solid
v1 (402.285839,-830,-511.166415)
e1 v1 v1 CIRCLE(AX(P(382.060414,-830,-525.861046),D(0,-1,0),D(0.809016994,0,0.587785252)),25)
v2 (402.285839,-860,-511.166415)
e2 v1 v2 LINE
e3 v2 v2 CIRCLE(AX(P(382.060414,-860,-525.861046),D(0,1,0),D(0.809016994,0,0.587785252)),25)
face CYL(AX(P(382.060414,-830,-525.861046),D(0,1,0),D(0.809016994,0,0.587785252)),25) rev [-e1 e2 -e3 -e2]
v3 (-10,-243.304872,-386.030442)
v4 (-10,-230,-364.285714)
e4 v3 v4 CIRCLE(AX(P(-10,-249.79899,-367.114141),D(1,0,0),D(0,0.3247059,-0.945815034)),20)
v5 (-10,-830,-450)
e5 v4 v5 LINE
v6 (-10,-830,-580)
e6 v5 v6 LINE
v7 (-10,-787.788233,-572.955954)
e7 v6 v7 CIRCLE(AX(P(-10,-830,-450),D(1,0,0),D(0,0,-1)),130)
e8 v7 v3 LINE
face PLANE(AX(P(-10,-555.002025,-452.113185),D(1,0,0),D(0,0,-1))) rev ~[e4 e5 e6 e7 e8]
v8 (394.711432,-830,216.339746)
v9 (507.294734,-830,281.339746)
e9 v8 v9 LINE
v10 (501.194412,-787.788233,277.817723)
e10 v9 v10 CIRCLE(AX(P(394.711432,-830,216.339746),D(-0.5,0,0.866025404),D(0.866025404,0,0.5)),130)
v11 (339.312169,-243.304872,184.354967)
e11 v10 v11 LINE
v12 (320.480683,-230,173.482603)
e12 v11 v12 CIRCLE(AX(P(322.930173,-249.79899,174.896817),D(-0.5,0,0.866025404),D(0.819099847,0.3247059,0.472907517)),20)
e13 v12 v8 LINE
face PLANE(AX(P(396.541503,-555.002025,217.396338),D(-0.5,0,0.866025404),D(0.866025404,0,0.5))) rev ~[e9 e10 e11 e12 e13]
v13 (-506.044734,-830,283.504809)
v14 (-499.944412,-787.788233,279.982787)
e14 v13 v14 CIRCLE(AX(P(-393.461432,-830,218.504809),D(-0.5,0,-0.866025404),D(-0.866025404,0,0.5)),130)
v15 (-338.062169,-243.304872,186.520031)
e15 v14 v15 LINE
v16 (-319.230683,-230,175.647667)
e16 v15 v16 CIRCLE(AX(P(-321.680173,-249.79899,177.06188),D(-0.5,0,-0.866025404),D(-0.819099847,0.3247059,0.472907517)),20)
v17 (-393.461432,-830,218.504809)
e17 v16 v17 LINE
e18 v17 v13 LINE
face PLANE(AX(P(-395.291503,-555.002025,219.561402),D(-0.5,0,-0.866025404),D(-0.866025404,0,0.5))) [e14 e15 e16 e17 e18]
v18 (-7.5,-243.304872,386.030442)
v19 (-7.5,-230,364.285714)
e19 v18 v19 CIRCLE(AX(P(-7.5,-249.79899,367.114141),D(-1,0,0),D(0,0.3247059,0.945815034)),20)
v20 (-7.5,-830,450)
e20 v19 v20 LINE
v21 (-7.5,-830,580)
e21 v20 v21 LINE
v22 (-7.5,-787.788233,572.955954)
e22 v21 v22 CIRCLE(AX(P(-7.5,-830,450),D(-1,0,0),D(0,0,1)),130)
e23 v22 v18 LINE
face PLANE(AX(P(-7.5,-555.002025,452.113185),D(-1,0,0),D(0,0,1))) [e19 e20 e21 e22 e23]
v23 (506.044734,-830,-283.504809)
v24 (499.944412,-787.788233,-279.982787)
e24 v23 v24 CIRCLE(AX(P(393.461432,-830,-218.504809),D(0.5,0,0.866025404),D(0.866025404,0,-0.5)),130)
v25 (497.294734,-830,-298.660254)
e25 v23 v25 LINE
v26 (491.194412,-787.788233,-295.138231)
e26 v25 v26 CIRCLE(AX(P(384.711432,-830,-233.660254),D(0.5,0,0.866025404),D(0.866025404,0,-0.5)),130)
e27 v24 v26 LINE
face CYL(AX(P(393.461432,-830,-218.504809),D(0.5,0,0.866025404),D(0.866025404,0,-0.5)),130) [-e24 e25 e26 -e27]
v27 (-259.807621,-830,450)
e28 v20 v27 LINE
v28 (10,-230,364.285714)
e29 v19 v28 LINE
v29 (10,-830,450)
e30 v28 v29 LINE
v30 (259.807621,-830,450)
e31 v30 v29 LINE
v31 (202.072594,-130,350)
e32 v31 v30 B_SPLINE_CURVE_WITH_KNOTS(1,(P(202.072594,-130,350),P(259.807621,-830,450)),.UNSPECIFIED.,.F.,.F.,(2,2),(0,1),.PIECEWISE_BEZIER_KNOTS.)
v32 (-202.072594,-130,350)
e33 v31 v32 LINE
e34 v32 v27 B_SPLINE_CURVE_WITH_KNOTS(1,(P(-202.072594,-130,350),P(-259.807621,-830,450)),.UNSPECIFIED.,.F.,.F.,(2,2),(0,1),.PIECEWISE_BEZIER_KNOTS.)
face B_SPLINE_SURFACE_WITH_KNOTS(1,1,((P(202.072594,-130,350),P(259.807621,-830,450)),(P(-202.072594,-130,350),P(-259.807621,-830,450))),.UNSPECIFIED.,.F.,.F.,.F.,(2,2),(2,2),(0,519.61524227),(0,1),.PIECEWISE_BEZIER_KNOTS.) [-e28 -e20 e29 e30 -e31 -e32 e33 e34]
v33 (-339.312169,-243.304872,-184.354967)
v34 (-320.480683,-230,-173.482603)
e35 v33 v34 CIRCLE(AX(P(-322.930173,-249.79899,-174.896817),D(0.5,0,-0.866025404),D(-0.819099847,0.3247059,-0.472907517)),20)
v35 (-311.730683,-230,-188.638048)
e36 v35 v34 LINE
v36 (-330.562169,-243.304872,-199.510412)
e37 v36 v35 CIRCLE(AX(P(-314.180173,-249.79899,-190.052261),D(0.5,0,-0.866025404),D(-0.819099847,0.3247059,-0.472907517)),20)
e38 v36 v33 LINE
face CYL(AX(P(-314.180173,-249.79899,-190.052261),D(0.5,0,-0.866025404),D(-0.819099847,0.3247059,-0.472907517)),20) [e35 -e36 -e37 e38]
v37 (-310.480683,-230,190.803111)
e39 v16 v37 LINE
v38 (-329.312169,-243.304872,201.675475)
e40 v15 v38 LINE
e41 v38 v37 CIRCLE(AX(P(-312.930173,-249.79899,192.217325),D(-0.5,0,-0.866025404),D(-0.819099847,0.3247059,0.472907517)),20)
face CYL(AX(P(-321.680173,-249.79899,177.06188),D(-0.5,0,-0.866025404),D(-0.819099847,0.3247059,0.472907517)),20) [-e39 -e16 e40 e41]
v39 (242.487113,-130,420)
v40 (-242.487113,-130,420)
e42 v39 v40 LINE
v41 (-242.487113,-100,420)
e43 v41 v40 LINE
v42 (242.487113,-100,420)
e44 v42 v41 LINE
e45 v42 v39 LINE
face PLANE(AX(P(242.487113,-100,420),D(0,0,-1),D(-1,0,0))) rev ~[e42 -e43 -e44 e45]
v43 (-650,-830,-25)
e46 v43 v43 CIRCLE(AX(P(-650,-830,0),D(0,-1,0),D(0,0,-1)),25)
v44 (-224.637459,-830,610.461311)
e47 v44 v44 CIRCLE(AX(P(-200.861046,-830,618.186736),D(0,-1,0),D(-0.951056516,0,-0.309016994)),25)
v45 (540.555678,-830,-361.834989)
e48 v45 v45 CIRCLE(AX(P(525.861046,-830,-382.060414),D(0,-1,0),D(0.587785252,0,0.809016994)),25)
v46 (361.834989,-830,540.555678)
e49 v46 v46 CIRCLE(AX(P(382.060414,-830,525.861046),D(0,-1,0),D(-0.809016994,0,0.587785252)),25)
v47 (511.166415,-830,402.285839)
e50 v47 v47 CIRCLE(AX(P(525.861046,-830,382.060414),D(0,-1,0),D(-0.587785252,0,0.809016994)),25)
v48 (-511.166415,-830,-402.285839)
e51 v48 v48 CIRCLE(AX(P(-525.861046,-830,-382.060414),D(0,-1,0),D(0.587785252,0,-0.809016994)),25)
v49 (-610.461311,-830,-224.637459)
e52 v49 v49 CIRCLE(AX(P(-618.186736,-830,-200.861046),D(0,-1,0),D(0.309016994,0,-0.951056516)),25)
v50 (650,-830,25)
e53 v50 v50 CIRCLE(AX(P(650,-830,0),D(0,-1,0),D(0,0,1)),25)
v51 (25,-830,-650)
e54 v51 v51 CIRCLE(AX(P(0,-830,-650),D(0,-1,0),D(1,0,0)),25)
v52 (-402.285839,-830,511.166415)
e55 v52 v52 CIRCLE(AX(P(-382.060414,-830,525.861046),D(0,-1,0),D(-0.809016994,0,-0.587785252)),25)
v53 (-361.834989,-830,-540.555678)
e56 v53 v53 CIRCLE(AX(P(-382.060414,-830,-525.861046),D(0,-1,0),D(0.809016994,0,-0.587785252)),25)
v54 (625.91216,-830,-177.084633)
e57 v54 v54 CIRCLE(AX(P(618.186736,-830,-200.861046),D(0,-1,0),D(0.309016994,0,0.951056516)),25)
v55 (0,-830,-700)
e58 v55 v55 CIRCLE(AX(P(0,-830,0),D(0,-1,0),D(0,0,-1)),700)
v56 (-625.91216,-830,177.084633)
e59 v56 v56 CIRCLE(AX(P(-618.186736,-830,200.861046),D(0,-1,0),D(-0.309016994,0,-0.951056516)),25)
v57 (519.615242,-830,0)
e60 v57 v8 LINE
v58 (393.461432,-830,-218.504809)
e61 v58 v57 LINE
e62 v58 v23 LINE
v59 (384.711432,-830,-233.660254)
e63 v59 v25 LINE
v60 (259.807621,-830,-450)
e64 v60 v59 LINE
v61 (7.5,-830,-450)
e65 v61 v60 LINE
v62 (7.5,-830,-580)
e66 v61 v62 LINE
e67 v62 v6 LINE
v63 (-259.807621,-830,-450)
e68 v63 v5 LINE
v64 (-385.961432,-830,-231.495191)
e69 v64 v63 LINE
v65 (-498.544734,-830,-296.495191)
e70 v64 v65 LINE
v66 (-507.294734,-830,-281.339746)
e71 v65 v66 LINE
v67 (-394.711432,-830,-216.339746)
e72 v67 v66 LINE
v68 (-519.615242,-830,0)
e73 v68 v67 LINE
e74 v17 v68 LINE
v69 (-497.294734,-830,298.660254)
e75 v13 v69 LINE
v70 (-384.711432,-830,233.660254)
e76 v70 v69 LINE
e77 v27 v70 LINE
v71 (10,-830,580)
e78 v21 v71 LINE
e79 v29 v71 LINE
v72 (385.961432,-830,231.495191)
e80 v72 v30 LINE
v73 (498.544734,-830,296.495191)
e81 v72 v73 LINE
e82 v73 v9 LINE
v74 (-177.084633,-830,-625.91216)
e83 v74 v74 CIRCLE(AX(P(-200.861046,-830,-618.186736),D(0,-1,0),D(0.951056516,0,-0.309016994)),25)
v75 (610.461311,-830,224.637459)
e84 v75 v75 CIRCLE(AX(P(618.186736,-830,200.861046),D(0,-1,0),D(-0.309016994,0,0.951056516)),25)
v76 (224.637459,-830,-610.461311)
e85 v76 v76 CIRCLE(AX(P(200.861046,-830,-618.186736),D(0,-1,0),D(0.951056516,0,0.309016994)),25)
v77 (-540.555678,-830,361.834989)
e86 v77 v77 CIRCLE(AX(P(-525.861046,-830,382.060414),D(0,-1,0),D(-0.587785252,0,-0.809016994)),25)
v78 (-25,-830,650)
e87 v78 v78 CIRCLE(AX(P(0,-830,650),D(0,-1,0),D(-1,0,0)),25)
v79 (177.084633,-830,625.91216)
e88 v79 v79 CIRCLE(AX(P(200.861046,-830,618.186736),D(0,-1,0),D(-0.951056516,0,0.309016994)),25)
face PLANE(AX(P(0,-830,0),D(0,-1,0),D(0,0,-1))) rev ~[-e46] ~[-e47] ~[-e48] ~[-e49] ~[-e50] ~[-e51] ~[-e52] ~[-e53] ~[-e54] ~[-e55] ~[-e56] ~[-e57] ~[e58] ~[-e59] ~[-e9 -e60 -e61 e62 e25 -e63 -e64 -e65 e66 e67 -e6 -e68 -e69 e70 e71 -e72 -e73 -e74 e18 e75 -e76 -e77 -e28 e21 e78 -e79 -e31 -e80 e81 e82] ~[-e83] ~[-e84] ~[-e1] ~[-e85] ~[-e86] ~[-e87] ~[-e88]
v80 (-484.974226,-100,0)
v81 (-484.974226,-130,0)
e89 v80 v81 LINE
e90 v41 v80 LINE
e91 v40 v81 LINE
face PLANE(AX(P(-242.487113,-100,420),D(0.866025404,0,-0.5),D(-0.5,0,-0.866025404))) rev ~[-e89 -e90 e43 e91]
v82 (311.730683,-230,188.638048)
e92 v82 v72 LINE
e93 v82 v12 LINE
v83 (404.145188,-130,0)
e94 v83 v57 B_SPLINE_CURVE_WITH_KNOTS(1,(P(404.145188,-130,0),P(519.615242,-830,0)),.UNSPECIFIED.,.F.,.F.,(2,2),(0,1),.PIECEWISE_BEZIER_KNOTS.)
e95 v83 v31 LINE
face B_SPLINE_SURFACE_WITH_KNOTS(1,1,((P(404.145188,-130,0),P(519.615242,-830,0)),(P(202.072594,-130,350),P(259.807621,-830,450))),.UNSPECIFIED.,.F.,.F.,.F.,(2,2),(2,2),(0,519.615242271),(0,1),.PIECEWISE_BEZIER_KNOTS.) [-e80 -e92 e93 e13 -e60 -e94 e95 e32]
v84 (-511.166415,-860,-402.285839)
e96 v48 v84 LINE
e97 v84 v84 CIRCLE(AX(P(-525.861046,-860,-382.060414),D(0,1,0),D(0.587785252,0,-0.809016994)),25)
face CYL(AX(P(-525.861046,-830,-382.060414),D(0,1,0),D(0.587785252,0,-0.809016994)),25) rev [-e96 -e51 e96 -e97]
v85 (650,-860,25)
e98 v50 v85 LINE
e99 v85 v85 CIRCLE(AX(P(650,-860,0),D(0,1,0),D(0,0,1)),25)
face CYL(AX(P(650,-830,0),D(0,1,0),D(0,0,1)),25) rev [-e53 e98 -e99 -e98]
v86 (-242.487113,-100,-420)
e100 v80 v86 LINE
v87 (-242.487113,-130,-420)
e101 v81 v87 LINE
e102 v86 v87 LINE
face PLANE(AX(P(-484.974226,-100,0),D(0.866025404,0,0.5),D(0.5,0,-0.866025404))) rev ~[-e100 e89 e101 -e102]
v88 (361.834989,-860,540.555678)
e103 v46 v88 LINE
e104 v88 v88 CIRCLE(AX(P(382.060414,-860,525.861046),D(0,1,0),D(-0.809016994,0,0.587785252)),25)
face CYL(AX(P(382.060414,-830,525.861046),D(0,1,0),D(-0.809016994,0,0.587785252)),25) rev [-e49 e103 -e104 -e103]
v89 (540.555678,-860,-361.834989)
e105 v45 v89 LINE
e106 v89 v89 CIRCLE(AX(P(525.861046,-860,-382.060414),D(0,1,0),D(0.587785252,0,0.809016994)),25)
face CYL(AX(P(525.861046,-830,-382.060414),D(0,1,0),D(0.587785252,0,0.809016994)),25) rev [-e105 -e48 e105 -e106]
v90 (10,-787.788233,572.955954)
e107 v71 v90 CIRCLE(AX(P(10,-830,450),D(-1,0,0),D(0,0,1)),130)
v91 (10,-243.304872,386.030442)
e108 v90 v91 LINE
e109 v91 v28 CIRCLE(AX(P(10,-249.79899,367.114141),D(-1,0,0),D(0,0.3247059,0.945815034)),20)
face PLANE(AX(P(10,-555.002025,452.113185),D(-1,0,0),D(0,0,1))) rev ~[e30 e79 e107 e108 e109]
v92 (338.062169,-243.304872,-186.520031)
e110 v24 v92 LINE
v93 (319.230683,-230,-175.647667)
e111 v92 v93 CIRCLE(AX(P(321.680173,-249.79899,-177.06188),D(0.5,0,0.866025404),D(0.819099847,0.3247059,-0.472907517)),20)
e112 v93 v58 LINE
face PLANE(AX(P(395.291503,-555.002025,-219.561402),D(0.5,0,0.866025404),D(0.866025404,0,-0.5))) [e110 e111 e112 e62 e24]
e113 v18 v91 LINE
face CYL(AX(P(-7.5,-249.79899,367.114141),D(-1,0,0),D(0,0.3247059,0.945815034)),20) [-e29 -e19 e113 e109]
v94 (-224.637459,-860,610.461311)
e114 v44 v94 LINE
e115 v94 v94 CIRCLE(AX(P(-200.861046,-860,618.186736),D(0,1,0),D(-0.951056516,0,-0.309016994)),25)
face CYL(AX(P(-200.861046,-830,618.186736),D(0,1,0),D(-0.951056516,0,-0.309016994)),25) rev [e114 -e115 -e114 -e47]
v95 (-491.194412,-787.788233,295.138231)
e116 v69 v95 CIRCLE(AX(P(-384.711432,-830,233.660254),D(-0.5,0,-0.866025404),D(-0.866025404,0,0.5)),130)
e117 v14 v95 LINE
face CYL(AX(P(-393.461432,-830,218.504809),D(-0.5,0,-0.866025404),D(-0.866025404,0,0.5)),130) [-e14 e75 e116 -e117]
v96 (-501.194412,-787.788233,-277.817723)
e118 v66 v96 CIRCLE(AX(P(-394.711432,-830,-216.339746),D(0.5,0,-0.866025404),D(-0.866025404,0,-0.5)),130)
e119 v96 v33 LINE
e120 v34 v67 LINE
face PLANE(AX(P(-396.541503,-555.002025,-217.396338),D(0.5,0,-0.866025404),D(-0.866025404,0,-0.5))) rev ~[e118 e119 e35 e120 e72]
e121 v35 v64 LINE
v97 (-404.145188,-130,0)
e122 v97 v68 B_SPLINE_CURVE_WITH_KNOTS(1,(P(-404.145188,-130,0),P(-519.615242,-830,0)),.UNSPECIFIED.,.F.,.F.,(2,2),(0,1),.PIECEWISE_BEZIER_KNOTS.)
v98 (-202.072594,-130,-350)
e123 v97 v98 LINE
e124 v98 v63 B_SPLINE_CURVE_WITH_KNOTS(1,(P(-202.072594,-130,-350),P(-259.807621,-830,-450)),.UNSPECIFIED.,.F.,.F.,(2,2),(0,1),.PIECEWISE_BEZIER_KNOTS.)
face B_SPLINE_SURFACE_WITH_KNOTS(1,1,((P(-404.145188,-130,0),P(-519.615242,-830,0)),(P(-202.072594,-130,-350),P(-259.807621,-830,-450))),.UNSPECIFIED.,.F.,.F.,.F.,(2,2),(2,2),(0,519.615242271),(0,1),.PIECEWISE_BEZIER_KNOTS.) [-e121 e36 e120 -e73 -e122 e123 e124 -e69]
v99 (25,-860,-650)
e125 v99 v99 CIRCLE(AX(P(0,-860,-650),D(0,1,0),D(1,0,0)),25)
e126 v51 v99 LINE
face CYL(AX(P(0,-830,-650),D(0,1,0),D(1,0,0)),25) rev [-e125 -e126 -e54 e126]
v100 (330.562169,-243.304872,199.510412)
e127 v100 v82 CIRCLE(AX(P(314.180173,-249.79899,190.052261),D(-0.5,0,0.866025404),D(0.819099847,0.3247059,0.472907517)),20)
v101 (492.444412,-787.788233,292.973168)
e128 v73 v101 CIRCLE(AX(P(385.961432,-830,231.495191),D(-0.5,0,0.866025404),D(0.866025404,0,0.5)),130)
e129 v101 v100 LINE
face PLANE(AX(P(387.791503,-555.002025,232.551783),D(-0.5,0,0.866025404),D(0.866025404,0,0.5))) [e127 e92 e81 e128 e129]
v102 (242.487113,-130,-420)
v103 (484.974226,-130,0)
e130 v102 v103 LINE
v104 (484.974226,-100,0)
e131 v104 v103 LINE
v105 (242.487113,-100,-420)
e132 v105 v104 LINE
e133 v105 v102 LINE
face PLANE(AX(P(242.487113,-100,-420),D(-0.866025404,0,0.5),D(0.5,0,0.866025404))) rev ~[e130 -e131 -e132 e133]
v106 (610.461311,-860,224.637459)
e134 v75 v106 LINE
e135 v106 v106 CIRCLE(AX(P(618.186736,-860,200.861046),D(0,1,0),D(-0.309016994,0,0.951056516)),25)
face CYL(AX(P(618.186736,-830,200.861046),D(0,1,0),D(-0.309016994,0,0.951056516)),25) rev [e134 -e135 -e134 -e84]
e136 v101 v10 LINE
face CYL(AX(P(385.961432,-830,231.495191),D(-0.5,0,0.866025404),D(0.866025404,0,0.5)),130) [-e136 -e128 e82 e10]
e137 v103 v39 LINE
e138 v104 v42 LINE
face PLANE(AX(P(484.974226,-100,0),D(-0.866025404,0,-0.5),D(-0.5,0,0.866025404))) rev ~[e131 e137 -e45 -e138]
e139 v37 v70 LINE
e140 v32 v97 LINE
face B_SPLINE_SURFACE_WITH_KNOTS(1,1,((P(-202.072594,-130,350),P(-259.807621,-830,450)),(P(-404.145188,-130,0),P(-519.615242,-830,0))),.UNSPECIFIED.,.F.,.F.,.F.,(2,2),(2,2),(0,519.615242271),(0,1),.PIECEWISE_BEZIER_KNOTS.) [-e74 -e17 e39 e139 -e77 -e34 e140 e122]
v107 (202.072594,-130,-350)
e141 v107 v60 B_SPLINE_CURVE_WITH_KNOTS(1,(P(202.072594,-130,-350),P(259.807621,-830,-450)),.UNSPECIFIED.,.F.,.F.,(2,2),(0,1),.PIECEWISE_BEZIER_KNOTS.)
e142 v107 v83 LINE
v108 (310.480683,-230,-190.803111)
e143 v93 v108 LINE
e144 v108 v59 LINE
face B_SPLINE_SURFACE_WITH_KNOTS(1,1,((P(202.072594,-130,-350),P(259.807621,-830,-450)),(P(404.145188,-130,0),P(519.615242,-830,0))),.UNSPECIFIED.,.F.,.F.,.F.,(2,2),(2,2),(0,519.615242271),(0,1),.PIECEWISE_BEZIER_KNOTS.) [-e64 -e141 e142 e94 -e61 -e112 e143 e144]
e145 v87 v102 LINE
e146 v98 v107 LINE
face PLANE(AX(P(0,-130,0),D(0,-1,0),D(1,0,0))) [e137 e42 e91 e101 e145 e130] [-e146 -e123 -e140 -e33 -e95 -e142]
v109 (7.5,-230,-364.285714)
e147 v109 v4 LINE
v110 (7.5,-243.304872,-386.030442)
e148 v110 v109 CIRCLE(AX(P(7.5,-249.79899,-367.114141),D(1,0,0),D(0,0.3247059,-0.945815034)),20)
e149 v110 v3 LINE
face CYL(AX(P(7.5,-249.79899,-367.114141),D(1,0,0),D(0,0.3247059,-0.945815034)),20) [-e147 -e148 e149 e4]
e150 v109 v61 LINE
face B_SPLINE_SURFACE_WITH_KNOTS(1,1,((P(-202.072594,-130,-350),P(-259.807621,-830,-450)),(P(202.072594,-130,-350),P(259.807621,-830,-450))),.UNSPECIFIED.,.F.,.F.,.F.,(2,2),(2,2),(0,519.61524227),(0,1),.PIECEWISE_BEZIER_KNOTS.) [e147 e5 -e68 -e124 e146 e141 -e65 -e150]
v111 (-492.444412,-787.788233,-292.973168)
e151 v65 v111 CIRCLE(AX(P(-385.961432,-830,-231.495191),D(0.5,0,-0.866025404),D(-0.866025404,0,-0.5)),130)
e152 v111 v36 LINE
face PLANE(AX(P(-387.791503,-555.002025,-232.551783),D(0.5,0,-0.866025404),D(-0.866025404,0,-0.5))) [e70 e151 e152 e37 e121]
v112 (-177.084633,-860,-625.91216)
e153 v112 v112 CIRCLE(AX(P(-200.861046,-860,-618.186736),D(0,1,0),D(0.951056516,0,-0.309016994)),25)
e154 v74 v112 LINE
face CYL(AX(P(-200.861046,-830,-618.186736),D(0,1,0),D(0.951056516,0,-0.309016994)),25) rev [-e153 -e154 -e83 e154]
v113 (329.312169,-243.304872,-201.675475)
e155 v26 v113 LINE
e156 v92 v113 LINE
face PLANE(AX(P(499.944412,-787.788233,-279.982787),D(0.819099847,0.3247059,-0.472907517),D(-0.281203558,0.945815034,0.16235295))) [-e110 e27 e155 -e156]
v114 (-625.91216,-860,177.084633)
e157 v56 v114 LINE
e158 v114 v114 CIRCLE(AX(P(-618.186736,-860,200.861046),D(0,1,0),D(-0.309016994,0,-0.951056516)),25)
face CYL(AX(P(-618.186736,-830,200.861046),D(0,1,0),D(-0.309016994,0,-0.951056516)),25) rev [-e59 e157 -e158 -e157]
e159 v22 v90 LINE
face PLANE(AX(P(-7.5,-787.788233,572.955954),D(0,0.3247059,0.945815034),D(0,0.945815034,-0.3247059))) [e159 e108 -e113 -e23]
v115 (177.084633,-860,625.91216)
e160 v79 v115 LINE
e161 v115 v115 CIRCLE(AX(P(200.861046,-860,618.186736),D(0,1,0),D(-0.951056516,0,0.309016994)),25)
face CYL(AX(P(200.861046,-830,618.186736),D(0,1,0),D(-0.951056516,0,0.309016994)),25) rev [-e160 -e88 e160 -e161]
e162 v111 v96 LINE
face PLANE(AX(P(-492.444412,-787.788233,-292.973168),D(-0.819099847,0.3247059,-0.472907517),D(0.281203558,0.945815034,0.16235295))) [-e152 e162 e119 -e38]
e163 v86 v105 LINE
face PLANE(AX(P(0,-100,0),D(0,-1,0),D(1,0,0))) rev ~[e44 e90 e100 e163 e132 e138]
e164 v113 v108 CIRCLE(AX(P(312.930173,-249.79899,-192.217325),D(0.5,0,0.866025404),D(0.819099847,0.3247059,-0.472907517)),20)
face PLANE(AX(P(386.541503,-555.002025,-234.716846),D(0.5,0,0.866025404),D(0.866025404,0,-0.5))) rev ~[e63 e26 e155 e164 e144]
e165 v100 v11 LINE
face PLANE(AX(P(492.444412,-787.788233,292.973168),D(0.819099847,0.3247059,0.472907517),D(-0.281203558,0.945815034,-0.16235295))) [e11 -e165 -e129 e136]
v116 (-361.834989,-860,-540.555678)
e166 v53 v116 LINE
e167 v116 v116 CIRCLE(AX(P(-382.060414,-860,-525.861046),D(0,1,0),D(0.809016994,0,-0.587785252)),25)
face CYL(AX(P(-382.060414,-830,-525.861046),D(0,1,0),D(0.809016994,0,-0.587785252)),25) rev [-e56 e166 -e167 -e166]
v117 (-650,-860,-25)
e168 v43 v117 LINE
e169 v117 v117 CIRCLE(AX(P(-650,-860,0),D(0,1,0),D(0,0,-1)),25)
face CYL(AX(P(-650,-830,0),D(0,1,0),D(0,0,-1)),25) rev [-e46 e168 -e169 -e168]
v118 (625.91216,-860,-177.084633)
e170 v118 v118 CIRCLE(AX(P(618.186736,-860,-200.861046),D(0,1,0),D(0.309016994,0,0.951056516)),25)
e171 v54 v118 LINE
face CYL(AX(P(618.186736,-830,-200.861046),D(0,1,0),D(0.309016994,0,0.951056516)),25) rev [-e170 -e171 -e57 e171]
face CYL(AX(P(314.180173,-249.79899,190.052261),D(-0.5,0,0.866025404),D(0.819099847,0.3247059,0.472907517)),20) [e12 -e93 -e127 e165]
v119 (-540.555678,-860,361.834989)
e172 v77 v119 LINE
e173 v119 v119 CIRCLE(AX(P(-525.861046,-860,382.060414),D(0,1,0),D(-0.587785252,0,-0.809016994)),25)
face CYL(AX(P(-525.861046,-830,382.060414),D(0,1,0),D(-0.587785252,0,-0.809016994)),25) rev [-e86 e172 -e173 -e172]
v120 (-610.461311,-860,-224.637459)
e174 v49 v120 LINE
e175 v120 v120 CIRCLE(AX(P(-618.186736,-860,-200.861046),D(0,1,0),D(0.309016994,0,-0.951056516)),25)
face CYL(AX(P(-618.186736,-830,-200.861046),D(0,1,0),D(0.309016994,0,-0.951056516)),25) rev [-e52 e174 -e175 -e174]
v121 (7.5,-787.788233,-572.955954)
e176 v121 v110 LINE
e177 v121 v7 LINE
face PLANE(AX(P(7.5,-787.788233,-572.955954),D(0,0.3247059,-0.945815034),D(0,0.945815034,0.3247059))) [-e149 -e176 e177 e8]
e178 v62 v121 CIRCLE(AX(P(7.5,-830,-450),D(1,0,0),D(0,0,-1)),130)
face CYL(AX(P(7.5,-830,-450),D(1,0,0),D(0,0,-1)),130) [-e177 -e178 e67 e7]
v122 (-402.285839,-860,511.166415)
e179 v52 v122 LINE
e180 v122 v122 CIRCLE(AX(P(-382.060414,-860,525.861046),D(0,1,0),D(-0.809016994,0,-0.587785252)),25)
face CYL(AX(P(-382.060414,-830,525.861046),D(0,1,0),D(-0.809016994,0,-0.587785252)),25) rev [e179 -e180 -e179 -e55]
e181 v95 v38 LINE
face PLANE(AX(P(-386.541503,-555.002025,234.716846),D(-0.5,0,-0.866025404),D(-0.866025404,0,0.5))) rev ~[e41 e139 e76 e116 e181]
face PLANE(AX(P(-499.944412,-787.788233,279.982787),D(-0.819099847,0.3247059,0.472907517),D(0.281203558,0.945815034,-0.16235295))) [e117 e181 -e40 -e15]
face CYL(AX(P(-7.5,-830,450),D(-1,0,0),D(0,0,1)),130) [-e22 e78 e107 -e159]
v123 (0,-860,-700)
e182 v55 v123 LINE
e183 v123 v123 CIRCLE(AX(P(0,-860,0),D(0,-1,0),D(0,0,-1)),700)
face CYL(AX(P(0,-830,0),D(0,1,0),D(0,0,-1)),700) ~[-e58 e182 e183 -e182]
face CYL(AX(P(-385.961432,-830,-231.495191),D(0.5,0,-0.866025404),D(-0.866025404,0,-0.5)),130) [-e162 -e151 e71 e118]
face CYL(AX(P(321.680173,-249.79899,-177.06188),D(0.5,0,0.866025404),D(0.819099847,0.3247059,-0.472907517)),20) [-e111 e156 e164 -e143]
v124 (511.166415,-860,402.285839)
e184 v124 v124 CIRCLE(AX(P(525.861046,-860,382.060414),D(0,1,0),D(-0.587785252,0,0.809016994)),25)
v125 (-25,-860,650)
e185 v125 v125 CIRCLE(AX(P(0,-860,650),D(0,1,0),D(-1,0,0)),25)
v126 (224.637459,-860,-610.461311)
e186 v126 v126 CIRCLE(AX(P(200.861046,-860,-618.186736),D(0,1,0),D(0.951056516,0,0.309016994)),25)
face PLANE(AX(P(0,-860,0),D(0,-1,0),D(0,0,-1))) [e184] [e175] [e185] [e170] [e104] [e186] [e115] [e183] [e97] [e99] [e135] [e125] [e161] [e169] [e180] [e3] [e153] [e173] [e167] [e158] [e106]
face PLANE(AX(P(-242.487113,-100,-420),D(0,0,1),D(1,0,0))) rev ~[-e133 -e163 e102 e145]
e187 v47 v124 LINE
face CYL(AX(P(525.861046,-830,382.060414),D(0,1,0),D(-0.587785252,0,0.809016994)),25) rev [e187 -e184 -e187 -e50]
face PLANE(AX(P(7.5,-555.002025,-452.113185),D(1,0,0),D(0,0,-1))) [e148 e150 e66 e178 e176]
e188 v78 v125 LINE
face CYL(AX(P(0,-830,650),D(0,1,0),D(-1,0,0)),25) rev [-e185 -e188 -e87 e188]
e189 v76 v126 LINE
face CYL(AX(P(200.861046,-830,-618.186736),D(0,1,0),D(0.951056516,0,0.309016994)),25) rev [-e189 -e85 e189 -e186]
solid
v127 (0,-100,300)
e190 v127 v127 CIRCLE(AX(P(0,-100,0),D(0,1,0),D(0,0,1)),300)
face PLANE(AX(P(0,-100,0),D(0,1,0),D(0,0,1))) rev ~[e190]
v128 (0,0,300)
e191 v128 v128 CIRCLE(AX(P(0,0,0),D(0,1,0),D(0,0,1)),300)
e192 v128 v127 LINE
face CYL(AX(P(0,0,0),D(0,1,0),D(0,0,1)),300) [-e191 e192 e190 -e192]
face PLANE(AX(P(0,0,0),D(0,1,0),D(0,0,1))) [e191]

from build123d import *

# Parameters (mm, degrees)
SKETCH1_R           = 300
BOSS_EXTRUDE1_DEPTH = 100
BOSS_EXTRUDE2_DEPTH = 30
SKETCH11_R          = 700
BOSS_EXTRUDE4_DEPTH = 30
SKETCH12_R          = 25
CUT_EXTRUDE2_DEPTH  = 1292.859125447
CRVPATTERN2_COUNT   = 20
BOSS_EXTRUDE5_START = -7.5
BOSS_EXTRUDE5_DEPTH = 17.5
CIRPATTERN1_COUNT   = 6


with BuildPart() as part:
    # Sketch1 → Boss-Extrude1 (new body)
    with BuildSketch(Plane(origin=(0, 0, 0), x_dir=(1, 0, 0), z_dir=(0, 1, 0))):
        with Locations(Location((0, 0, 0), (0, 0, 270))):
            Circle(SKETCH1_R)
    extrude(amount=-BOSS_EXTRUDE1_DEPTH)


with BuildPart() as body_2:
    # Sketch2 → Boss-Extrude2 (new body)
    with BuildSketch(Plane.XZ.offset(100)):
        Polygon((484.974226119, 0), (242.48711306, 420), (-242.48711306, 420), (-484.974226119, 0), (-242.48711306, -420), (242.48711306, -420), align=None)
    extrude(amount=BOSS_EXTRUDE2_DEPTH)

    # Sketch5 → Loft2 section 0
    with BuildSketch(Plane(origin=(0, -130, 0), x_dir=(-1, 0, 0), z_dir=(0, -1, 0))):
        with BuildLine():
            Line((-404.145188433, 0), (-202.072594216, -350))
            Line((-202.072594216, -350), (202.072594216, -350))
            Line((202.072594216, -350), (404.145188433, 0))
            Line((404.145188433, 0), (202.072594216, 350))
            Line((202.072594216, 350), (-202.072594216, 350))
            Line((-202.072594216, 350), (-404.145188433, 0))
        make_face()
    # Sketch6 → Loft2 section 1
    with BuildSketch(Plane(origin=(0, -830, 0), x_dir=(-1, 0, 0), z_dir=(0, -1, 0))):
        with BuildLine():
            Line((-519.615242271, 0), (-259.807621135, -450))
            Line((-259.807621135, -450), (259.807621135, -450))
            Line((259.807621135, -450), (519.615242271, 0))
            Line((519.615242271, 0), (259.807621135, 450))
            Line((259.807621135, 450), (-259.807621135, 450))
            Line((-259.807621135, 450), (-519.615242271, 0))
        make_face()
    loft()

    # Sketch11 → Boss-Extrude4 (add)
    with BuildSketch(Plane(origin=(0, -830, 0), x_dir=(-1, 0, 0), z_dir=(0, -1, 0))):
        with Locations(Location((0, 0, 0), (0, 0, 90))):
            Circle(SKETCH11_R)
    extrude(amount=BOSS_EXTRUDE4_DEPTH)

    # Sketch12 → Cut-Extrude2 (cut, through all)
    with BuildSketch(Plane(origin=(0, -830, 0), x_dir=(-1, 0, 0), z_dir=(0, -1, 0))):
        with Locations(Location((650, 0, 0), (0, 0, 90))):
            Circle(SKETCH12_R)
    cut_extrude2 = extrude(amount=CUT_EXTRUDE2_DEPTH, mode=Mode.SUBTRACT)

    # CrvPattern2: Cut-Extrude2 ×20 about axis
    crvpattern2_axis = Axis((0, -830, 0), (0, -1, 0))
    for i in range(1, CRVPATTERN2_COUNT):
        add(cut_extrude2.rotate(crvpattern2_axis, i * 360 / CRVPATTERN2_COUNT), mode=Mode.SUBTRACT)

    # Sketch15 → Boss-Extrude5 (add)
    with BuildSketch(Plane(origin=(0, 0, 0), x_dir=(0, 0, -1), z_dir=(1, 0, 0)).offset(BOSS_EXTRUDE5_START)):
        with BuildLine():
            Line((-364.285714286, -230), (-450, -830))
            Line((-450, -830), (-580, -830))
            ThreePointArc((-580, -830), (-578.2268967, -808.602267345), (-572.955954419, -787.788233003))
            Line((-572.955954419, -787.788233003), (-386.03044209, -243.304871874))
            ThreePointArc((-386.03044209, -243.304871874), (-377.552523602, -232.739090189), (-364.285714286, -230))
        make_face()
    boss_extrude5 = extrude(amount=BOSS_EXTRUDE5_DEPTH)

    # CirPattern1: Boss-Extrude5 ×6 about axis
    cirpattern1_axis = Axis((0, 0, 0), (0, 1, 0))
    for i in range(1, CIRPATTERN1_COUNT):
        add(boss_extrude5.rotate(cirpattern1_axis, i * 360 / CIRPATTERN1_COUNT))


solid = Compound([part.part, body_2.part])
